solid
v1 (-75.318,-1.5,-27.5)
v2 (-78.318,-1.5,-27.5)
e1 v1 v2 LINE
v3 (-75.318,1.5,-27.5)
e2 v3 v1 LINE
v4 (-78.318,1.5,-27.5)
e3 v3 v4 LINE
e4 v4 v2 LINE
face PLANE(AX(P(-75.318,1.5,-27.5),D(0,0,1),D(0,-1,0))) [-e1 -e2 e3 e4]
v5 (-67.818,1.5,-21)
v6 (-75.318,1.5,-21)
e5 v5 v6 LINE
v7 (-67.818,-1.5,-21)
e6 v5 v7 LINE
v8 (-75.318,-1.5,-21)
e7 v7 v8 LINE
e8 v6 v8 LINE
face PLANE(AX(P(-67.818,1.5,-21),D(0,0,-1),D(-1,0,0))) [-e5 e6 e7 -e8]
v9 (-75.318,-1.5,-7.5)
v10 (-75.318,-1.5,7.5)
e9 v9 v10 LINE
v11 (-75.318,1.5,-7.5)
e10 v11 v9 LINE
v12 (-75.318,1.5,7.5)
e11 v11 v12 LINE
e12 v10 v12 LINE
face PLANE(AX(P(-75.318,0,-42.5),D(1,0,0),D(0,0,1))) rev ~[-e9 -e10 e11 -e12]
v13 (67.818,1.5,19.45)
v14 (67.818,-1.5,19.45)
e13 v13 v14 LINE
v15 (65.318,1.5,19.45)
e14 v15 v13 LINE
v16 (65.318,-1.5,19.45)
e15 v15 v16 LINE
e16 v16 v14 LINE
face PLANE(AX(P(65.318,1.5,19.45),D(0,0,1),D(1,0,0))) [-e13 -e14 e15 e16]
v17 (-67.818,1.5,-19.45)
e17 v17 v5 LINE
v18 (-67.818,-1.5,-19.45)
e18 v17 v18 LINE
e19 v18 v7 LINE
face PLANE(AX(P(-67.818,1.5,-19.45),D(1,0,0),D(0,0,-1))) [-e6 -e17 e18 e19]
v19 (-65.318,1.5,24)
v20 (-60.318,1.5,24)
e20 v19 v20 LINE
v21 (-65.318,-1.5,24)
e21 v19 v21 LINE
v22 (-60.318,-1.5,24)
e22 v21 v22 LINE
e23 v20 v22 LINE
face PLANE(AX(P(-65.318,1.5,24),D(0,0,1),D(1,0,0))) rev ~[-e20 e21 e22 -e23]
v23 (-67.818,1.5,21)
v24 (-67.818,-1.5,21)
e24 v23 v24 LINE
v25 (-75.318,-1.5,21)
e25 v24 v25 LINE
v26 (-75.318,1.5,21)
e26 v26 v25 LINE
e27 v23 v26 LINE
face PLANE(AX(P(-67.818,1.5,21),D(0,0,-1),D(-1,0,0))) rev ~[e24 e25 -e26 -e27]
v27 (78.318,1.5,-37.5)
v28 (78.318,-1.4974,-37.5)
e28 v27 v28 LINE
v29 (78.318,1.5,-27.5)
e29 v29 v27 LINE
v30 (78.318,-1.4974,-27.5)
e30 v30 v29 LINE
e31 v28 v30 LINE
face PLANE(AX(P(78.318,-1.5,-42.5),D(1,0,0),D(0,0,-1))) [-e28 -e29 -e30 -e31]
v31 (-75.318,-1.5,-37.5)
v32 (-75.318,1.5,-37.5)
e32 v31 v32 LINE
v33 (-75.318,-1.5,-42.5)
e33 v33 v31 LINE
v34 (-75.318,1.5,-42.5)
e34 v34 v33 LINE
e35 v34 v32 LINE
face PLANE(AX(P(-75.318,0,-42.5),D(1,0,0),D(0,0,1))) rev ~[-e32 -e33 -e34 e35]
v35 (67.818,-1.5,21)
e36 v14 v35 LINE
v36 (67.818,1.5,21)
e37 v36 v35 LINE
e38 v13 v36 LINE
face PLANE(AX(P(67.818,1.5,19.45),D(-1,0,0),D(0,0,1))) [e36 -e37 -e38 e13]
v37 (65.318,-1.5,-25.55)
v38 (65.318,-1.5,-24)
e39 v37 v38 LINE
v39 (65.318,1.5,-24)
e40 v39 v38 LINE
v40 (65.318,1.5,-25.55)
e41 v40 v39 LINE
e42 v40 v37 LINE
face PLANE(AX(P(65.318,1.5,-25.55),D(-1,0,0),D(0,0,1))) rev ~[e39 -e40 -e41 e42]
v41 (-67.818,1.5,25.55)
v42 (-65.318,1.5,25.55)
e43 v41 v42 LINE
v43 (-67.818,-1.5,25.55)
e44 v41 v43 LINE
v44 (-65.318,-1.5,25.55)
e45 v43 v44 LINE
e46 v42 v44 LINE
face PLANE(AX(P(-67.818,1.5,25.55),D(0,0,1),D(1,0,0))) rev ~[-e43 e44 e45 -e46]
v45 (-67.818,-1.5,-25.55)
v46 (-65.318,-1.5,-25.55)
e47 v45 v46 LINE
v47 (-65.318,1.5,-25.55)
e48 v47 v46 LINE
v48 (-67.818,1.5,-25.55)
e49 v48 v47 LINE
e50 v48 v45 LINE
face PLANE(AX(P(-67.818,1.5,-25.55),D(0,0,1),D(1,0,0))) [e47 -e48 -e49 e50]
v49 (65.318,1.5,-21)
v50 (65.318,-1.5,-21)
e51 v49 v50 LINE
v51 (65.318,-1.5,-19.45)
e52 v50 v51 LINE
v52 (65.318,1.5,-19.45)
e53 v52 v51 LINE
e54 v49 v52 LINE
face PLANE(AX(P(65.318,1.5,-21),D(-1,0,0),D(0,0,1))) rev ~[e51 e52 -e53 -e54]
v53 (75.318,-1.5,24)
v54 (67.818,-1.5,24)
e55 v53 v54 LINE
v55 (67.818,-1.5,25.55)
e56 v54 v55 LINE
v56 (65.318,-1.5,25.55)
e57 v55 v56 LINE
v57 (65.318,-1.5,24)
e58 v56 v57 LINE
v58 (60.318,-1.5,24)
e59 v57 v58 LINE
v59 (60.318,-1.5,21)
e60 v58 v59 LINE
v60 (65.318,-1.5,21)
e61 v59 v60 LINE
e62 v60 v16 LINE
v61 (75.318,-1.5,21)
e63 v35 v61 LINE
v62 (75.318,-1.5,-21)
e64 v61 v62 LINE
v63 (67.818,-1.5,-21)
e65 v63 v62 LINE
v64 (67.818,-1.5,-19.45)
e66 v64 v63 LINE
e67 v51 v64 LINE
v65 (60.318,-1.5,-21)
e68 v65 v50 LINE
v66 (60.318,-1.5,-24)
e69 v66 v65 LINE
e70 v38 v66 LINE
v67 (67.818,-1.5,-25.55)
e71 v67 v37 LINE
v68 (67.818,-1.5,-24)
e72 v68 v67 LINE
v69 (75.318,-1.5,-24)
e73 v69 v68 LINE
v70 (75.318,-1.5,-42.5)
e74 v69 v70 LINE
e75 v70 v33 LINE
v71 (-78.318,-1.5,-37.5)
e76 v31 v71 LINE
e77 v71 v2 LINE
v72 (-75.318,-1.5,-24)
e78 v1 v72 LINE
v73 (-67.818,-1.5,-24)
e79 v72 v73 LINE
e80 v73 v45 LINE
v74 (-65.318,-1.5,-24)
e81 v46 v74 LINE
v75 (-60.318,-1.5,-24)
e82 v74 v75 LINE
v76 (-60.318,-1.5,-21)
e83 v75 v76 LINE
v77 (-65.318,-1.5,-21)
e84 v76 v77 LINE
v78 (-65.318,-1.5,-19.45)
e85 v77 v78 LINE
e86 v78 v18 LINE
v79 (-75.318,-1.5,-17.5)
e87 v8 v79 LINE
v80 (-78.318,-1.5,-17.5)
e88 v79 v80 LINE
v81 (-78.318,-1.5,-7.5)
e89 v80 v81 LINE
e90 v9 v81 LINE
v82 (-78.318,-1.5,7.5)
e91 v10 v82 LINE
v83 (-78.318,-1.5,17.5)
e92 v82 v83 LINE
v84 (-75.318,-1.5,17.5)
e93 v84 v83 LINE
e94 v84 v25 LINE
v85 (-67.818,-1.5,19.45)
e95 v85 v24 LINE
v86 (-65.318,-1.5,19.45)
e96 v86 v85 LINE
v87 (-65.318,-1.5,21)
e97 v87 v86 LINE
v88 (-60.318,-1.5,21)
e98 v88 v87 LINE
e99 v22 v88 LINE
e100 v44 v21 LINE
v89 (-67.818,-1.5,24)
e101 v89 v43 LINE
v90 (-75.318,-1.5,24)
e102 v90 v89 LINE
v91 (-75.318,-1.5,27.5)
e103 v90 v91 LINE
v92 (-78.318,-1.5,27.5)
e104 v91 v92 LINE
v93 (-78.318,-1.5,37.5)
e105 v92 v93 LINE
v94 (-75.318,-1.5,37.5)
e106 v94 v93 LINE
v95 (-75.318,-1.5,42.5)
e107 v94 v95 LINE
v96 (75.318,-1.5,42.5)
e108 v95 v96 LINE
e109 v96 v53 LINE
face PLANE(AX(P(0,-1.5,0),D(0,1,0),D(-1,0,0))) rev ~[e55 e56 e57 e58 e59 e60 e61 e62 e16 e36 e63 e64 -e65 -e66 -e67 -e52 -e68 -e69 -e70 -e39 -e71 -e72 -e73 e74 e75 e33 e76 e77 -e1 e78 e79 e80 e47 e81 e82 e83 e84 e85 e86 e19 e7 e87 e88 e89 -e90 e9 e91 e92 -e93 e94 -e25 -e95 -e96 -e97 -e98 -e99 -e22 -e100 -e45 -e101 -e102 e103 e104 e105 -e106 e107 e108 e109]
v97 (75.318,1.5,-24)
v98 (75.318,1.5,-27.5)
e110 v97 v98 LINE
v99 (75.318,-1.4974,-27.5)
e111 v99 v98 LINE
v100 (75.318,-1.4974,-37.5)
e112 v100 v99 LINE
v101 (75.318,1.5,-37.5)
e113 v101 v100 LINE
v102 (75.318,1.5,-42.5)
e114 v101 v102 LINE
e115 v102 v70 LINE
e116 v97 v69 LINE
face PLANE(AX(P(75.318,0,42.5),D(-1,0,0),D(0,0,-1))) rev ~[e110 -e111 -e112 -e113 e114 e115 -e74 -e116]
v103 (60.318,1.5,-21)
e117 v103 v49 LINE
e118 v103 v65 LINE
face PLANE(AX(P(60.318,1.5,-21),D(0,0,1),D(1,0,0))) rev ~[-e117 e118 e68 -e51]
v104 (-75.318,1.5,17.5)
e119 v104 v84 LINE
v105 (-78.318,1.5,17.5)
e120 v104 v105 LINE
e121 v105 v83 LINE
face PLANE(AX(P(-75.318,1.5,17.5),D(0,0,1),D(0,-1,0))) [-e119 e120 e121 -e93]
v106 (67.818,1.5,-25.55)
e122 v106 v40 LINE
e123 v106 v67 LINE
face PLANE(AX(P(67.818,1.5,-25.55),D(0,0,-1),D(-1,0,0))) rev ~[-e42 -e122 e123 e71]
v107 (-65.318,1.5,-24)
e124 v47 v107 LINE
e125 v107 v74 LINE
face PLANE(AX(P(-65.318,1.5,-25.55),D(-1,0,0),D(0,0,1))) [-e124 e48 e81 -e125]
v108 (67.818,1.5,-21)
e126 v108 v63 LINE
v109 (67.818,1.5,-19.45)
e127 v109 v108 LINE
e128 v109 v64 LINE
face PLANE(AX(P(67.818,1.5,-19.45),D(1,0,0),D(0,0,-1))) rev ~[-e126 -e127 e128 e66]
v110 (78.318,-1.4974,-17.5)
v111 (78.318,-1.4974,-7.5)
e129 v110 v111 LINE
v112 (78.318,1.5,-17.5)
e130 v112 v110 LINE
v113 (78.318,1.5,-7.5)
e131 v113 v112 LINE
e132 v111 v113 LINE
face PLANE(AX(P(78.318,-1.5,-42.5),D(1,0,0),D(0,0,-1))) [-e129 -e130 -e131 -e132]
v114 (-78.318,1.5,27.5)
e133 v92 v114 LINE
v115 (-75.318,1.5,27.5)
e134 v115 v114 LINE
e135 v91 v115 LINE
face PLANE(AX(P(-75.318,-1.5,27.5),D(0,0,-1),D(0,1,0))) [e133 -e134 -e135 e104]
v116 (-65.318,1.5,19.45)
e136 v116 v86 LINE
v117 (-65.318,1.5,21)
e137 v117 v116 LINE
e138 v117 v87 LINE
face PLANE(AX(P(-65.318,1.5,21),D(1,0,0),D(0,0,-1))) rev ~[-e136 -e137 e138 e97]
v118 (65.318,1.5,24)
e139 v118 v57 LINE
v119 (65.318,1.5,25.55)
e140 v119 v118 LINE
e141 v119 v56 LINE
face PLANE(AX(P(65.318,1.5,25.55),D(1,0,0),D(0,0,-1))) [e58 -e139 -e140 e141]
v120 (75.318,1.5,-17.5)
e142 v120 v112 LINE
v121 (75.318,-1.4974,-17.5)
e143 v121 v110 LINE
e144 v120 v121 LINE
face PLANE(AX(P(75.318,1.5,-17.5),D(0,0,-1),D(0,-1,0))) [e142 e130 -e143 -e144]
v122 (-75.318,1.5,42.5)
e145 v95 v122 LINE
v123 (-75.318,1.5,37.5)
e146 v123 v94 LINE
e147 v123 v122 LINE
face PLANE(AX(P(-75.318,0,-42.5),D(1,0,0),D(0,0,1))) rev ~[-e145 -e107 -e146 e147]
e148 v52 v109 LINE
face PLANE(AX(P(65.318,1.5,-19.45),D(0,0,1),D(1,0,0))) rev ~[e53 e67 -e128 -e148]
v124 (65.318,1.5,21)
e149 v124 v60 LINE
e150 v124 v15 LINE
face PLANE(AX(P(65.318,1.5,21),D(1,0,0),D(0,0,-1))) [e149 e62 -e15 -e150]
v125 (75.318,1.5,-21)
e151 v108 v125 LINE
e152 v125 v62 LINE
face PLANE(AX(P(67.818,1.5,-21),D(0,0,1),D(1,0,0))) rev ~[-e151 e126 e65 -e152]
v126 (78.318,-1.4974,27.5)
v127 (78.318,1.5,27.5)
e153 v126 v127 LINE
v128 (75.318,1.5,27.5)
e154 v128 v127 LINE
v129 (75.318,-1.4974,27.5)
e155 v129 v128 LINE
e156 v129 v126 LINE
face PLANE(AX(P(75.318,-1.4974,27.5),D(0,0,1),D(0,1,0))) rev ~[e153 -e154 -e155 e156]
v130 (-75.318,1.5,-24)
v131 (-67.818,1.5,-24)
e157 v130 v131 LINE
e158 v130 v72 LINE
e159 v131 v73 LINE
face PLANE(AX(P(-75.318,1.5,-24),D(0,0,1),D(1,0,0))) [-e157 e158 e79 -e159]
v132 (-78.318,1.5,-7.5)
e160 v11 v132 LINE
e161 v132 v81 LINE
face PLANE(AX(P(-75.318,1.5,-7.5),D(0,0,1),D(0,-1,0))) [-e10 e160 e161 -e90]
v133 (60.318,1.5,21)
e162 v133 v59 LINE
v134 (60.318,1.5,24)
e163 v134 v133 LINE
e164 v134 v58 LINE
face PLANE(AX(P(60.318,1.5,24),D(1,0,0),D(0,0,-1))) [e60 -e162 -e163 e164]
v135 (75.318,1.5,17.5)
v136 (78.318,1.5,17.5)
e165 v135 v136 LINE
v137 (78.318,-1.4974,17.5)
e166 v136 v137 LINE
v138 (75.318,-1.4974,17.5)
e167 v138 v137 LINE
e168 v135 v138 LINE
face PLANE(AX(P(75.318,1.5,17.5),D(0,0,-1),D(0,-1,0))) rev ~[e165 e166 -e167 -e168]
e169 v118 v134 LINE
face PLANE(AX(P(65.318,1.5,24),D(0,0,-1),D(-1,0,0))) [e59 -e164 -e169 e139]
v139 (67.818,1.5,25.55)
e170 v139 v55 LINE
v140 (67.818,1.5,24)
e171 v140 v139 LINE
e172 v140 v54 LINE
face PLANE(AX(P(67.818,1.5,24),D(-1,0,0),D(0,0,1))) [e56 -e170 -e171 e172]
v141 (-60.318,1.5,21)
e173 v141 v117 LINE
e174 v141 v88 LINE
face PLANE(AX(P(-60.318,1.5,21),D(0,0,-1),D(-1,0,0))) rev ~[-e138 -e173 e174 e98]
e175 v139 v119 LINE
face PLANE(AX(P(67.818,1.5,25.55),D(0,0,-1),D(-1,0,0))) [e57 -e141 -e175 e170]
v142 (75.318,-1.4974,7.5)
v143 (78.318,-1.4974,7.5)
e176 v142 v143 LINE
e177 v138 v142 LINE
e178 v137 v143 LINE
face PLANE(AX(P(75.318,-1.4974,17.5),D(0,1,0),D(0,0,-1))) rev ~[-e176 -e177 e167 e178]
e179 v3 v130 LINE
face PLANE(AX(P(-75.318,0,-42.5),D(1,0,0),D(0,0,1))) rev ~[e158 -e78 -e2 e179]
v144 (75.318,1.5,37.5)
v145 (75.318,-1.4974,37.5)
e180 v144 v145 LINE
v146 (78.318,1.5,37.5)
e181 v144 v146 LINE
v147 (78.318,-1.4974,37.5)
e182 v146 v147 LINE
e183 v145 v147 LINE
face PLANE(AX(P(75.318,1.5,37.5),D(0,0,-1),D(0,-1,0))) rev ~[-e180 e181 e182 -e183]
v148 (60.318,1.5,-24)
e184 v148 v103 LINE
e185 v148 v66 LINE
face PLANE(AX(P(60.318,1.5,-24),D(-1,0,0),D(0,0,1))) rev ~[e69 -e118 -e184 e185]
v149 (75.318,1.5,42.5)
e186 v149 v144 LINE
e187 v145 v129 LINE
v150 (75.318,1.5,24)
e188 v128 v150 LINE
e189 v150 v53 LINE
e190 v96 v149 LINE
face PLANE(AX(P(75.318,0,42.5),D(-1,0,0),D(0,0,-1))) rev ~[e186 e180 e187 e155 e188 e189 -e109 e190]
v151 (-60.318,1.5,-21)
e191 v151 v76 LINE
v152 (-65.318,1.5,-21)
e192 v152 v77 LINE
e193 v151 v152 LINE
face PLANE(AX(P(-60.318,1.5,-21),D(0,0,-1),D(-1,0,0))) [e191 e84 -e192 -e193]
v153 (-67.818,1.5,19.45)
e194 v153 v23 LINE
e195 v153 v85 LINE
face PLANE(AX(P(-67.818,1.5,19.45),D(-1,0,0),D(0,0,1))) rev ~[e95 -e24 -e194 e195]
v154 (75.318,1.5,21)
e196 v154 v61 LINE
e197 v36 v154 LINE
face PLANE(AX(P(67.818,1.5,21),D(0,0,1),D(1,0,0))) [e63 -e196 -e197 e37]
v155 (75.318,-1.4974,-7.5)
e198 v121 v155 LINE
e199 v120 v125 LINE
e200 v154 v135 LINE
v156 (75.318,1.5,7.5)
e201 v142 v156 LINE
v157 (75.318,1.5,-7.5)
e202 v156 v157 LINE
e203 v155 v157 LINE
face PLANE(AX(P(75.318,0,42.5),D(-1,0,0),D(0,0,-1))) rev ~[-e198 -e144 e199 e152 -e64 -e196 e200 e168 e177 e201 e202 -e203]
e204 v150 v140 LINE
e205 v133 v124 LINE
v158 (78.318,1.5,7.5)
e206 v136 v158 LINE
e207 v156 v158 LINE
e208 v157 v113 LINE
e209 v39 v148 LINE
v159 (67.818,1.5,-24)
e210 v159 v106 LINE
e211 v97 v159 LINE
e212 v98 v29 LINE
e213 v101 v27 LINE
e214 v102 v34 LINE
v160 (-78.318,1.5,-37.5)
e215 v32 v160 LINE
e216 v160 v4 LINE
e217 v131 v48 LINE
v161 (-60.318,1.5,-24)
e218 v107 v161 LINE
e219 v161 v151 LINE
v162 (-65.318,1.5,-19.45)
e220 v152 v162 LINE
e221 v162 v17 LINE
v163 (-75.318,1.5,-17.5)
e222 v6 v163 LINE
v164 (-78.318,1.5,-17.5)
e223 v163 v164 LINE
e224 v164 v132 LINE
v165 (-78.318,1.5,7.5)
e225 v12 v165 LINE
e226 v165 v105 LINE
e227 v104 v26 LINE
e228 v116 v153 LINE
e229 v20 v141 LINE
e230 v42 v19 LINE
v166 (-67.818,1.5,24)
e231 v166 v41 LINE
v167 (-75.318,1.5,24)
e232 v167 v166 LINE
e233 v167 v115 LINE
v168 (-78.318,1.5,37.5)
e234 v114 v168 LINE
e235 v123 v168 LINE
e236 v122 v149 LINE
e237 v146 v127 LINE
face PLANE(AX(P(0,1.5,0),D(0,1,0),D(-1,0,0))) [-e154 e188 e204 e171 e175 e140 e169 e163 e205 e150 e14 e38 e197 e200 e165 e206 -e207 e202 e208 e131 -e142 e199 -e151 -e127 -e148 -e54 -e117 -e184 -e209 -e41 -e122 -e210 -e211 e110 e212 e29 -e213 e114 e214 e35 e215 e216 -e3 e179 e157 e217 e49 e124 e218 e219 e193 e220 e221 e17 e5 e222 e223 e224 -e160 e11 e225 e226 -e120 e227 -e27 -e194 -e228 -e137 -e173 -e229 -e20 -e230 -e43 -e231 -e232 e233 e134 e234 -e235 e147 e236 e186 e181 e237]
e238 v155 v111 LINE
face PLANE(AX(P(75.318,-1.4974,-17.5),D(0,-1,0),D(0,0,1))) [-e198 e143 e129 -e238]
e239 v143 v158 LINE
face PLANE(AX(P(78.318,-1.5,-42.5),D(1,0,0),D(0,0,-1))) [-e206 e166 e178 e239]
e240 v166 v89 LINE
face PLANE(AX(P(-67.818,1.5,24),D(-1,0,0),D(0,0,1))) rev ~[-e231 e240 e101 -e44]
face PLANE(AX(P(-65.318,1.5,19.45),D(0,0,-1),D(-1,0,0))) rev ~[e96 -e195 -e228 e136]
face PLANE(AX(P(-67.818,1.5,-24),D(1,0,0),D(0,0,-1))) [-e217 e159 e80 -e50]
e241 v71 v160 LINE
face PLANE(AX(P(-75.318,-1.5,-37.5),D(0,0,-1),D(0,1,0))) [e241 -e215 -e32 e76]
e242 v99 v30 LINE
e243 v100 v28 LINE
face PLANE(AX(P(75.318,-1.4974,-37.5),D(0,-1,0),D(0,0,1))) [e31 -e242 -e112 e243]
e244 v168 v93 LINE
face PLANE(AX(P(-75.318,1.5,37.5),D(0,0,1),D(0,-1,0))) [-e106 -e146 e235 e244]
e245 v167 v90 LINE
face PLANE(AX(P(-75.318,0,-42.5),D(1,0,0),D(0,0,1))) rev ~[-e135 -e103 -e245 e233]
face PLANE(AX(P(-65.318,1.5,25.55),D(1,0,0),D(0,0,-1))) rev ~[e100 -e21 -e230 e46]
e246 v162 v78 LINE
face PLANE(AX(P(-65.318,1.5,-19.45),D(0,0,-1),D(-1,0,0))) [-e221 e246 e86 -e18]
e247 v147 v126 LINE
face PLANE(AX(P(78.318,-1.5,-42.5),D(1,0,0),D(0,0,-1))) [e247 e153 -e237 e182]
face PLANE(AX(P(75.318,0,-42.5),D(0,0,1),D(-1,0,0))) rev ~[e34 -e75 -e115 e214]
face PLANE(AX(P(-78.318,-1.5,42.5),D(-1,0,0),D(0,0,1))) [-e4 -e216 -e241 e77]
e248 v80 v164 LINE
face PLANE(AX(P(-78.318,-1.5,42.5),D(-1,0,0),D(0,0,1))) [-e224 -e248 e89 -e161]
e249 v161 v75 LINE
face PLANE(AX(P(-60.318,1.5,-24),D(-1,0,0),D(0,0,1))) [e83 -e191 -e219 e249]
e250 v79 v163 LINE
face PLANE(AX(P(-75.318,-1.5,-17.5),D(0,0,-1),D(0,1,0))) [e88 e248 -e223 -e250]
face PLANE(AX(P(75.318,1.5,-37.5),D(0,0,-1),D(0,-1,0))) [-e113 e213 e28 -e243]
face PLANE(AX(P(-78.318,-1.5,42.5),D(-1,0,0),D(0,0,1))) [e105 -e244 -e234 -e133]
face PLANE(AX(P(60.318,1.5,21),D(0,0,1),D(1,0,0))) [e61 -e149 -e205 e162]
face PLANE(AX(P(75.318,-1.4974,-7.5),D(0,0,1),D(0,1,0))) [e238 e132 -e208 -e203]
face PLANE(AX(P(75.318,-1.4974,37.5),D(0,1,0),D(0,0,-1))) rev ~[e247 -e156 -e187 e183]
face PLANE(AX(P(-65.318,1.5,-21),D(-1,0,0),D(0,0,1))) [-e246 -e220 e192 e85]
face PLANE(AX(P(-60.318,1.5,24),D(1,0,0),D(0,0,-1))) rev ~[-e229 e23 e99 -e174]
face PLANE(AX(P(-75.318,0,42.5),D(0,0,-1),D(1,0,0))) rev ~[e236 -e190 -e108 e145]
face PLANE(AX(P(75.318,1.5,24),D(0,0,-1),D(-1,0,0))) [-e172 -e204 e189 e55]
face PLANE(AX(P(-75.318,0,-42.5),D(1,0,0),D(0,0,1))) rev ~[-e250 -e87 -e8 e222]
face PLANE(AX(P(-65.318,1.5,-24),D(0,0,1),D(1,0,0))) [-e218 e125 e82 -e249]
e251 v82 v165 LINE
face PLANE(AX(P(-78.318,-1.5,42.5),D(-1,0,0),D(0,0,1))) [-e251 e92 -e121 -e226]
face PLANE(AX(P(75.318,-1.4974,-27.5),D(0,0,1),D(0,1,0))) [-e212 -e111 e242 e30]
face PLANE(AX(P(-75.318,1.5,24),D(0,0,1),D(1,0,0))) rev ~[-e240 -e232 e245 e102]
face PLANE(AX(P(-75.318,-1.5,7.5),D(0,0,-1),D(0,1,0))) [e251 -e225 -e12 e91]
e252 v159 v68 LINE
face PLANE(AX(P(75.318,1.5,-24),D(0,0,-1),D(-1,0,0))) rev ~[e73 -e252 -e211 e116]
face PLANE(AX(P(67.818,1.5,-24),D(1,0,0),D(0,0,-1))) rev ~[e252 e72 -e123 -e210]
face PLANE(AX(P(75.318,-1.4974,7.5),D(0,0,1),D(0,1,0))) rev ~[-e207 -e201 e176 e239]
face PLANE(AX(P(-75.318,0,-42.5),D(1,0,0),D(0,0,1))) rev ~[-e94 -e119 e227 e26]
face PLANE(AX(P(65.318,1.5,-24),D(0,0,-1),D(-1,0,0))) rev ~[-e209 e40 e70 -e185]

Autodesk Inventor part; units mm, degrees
ref_plane "YZ Plane" through (0, 0, 0) normal (1, 0, 0) x (0, 1, 0)
ref_plane "XZ Plane" through (0, 0, 0) normal (0, 1, 0) x (-1, 0, 0)
ref_plane "XY Plane" through (0, 0, 0) normal (0, 0, 1) x (1, 0, 0)
sketch "Эскиз1" plane through (0, 0, 0) normal (0, 1, 0) x (-1, 0, 0)
  line L0 (75.318, 42.5) -> (-75.318, 42.5)
  line L1 (-75.318, 42.5) -> (-75.318, -42.5)
  line L2 (-75.318, -42.5) -> (75.318, -42.5)
  line L3 (75.318, -42.5) -> (75.318, 42.5)
  line L4 (75.318, 42.5) -> (-75.318, -42.5) construction
  line L5 (-75.318, 42.5) -> (75.318, -42.5) construction
  point P0 (0, 0)
  dimension "d0" = 150.636
  dimension "d1" = 85
extrude "Выдавливание1" add sketch "Эскиз1" along normal mid plane 3
sketch "Эскиз3" plane through (-75.318, -1.5, 42.5) normal (-1, 0, 0) x (0, 0, 1)
  line L0 (-85, 0) -> (0, 0) projected
  line L1 (-80, 3) -> (-70, 3)
  line L2 (-70, 3) -> (-70, 0)
  line L3 (-70, 0) -> (-80, 0)
  line L4 (-80, 0) -> (-80, 3)
  line L5 (-80, 3) -> (-70, 0) construction
  line L6 (-70, 3) -> (-80, 0) construction
  line L7 (-60, 3) -> (-50, 3)
  line L8 (-50, 3) -> (-50, 0)
  line L9 (-50, 0) -> (-60, 0)
  line L10 (-60, 0) -> (-60, 3)
  line L11 (-60, 3) -> (-50, 0) construction
  line L12 (-50, 3) -> (-60, 0) construction
  line L13 (-35, 3) -> (-25, 3)
  line L14 (-25, 3) -> (-25, 0)
  line L15 (-25, 0) -> (-35, 0)
  line L16 (-35, 0) -> (-35, 3)
  line L17 (-35, 3) -> (-25, 0) construction
  line L18 (-25, 3) -> (-35, 0) construction
  line L19 (-15, 3) -> (-5, 3)
  line L20 (-5, 3) -> (-5, 0)
  line L21 (-5, 0) -> (-15, 0)
  line L22 (-15, 0) -> (-15, 3)
  line L23 (-15, 3) -> (-5, 0) construction
  line L24 (-5, 3) -> (-15, 0) construction
  line L25 (0, 0) -> (0, 3) projected
  line L26 (-85, 0) -> (-85, 3) projected
  point P0 (-42.5, 1.5)
  point P1 (-75, 1.5)
  point P2 (-55, 1.5)
  point P3 (-30, 1.5)
  point P4 (-10, 1.5)
  point P5 (-15, 1.5)
  point P6 (-25, 1.5)
  point P7 (-60, 1.5)
  point P8 (-35, 0)
  point P9 (-15, 0)
  dimension "d8" = 10
  dimension "d9" = 10
  dimension "d10" = 10
  dimension "d11" = 10
  dimension "d12" = 3
  dimension "d13" = 10
  dimension "d14" = 10
  dimension "d15" = 5
  dimension "d16" = 5
extrude "Выдавливание3" add sketch "Эскиз3" along normal blind 3
sketch "Эскиз4" plane through (75.318, -1.5, -42.5) normal (1, 0, 0) x (0, 0, -1)
  line L0 (-85, 3) -> (0, 3) projected
  line L1 (-80, 0.0026) -> (-70, 0.0026)
  line L2 (-70, 0.0026) -> (-70, 3)
  line L3 (-70, 3) -> (-80, 3)
  line L4 (-80, 3) -> (-80, 0.0026)
  line L5 (-80, 0.0026) -> (-70, 3) construction
  line L6 (-70, 0.0026) -> (-80, 3) construction
  line L7 (-60, 0.0026) -> (-50, 0.0026)
  line L8 (-50, 0.0026) -> (-50, 3)
  line L9 (-50, 3) -> (-60, 3)
  line L10 (-60, 3) -> (-60, 0.0026)
  line L11 (-60, 0.0026) -> (-50, 3) construction
  line L12 (-50, 0.0026) -> (-60, 3) construction
  line L13 (-42.5, 3) -> (-42.5, 0) construction
  line L14 (0, 0) -> (-85, 0) projected
  line L15 (-5, 0.0026) -> (-15, 0.0026)
  line L16 (-15, 0.0026) -> (-15, 3)
  line L17 (-15, 3) -> (-5, 3)
  line L18 (-5, 3) -> (-5, 0.0026)
  line L19 (-5, 0.0026) -> (-15, 3) construction
  line L20 (-15, 0.0026) -> (-5, 3) construction
  line L21 (-25, 0.0026) -> (-35, 0.0026)
  line L22 (-35, 0.0026) -> (-35, 3)
  line L23 (-35, 3) -> (-25, 3)
  line L24 (-25, 3) -> (-25, 0.0026)
  line L25 (-25, 0.0026) -> (-35, 3) construction
  line L26 (-35, 0.0026) -> (-25, 3) construction
  line L27 (-85, 3) -> (-85, 0) projected
  point P0 (-42.5, 1.5)
  point P1 (-75, 1.5013)
  point P2 (-55, 1.5013)
  point P3 (-10, 1.5013)
  point P4 (-30, 1.5013)
  point P5 (-35, 3)
  point P6 (-5, 3)
  point P7 (-15, 3)
  dimension "d19" = 10
  dimension "d24" = 20
  dimension "d29" = 5
extrude "Выдавливание4" add sketch "Эскиз4" along normal blind 3
sketch "Эскиз5" plane through (0, 1.5, 0) normal (0, 1, 0) x (1, 0, 0)
  line L0 (-75.318, 7.5) -> (-75.318, -7.5) projected
  line L1 (-54.4999, -2.8628) -> (-54.4999, -9.8628)
  line L2 (-54.4999, -9.8628) -> (-48.4999, -9.8628)
  line L3 (-48.4999, -9.8628) -> (-48.4999, -2.8628)
  line L4 (-48.4999, -2.8628) -> (-54.4999, -2.8628)
  line L5 (-48.4999, 3.1372) -> (-48.4999, 10.1372)
  line L6 (-48.4999, 10.1372) -> (-54.4999, 10.1372)
  line L7 (-54.4999, 10.1372) -> (-54.4999, 3.1372)
  line L8 (-54.4999, 3.1372) -> (-48.4999, 3.1372)
  line L9 (-51.4999, -2.8628) -> (-51.4999, 3.1372)
  circle A0 centre (-51.4999, 0.1372) radius 1.5
  point P0 (0, 0)
  dimension "d37" = 3
extrude "Выдавливание5" cut sketch "Эскиз5" against normal blind 3
sketch "Эскиз6" plane through (0, 1.5, 0) normal (0, 1, 0) x (1, 0, 0)
  line L0 (75.318, -27.5) -> (75.318, -17.5) projected
  line L1 (60.318, -24) -> (60.318, -21)
  line L2 (75.318, -21) -> (75.318, -24)
  line L3 (67.818, -25.55) -> (65.318, -25.55)
  line L4 (65.318, -19.45) -> (67.818, -19.45)
  line L5 (67.818, -19.45) -> (67.818, -21)
  line L6 (67.818, -24) -> (67.818, -25.55)
  line L7 (75.318, -24) -> (67.818, -24)
  line L8 (65.318, -24) -> (60.318, -24)
  line L9 (65.318, -25.55) -> (65.318, -24)
  line L10 (65.318, -21) -> (65.318, -19.45)
  line L11 (60.318, -21) -> (65.318, -21)
  line L12 (67.818, -21) -> (75.318, -21)
  line L13 (66.568, 0) -> (53.2147, 0) construction
  line L14 (0, -10.2584) -> (0, 8.5624) construction
  line L15 (75.318, 27.5) -> (75.318, 17.5)
  line L16 (60.318, 24) -> (60.318, 21)
  line L17 (75.318, 21) -> (75.318, 24)
  line L18 (67.818, 25.55) -> (65.318, 25.55)
  line L19 (65.318, 19.45) -> (67.818, 19.45)
  line L20 (67.818, 19.45) -> (67.818, 21)
  line L21 (67.818, 24) -> (67.818, 25.55)
  line L22 (75.318, 24) -> (67.818, 24)
  line L23 (65.318, 24) -> (60.318, 24)
  line L24 (65.318, 25.55) -> (65.318, 24)
  line L25 (65.318, 21) -> (65.318, 19.45)
  line L26 (60.318, 21) -> (65.318, 21)
  line L27 (67.818, 21) -> (75.318, 21)
  line L28 (0, 10.2584) -> (0, -8.5624) construction
  line L29 (-75.318, -27.5) -> (-75.318, -17.5)
  line L30 (-60.318, -24) -> (-60.318, -21)
  line L31 (-75.318, -21) -> (-75.318, -24)
  line L32 (-67.818, -25.55) -> (-65.318, -25.55)
  line L33 (-65.318, -19.45) -> (-67.818, -19.45)
  line L34 (-67.818, -19.45) -> (-67.818, -21)
  line L35 (-67.818, -24) -> (-67.818, -25.55)
  line L36 (-75.318, -24) -> (-67.818, -24)
  line L37 (-65.318, -24) -> (-60.318, -24)
  line L38 (-65.318, -25.55) -> (-65.318, -24)
  line L39 (-65.318, -21) -> (-65.318, -19.45)
  line L40 (-60.318, -21) -> (-65.318, -21)
  line L41 (-67.818, -21) -> (-75.318, -21)
  line L42 (-66.568, 0) -> (-53.2147, 0) construction
  line L43 (-60.318, 24) -> (-60.318, 21)
  line L44 (-65.318, 24) -> (-60.318, 24)
  line L45 (-60.318, 21) -> (-65.318, 21)
  line L46 (-65.318, 21) -> (-65.318, 19.45)
  line L47 (-65.318, 19.45) -> (-67.818, 19.45)
  line L48 (-67.818, 19.45) -> (-67.818, 21)
  line L49 (-65.318, 25.55) -> (-65.318, 24)
  line L50 (-67.818, 25.55) -> (-65.318, 25.55)
  line L51 (-67.818, 24) -> (-67.818, 25.55)
  line L52 (-67.818, 21) -> (-75.318, 21)
  line L53 (-75.318, 21) -> (-75.318, 24)
  line L54 (-75.318, 27.5) -> (-75.318, 17.5)
  line L55 (-75.318, 24) -> (-67.818, 24)
  point P0 (0, 0)
  point P1 (67.818, -23.3834)
  point P2 (67.818, 23.3834)
  point P3 (-67.818, -23.3834)
  point P4 (-67.818, 23.3834)
  point P5 (-75.318, -21)
  point P6 (75.318, -22.5)
  dimension "d38" = 6.1
  dimension "d39" = 3
  dimension "d40" = 2.5
  dimension "d41" = 15
  dimension "d42" = 1.55
  dimension "d43" = 1.55
  dimension "d44" = 1.55
  dimension "d45" = 1.55
extrude "Выдавливание6" cut sketch "Эскиз6" against normal blind 3
sketch "Эскиз7" plane through (0, 1.5, 0) normal (0, 1, 0) x (1, 0, 0)
  circle A0 centre (-51.4999, 0.1372) radius 1.5 projected
  line L0 (-54.4999, -2.8628) -> (-48.4999, -2.8628) projected
  line L1 (-48.4999, -2.8628) -> (-48.4999, -9.8628) projected
  line L2 (-48.4999, -9.8628) -> (-54.4999, -9.8628) projected
  line L3 (-54.4999, -9.8628) -> (-54.4999, -2.8628) projected
  line L4 (-48.4999, 3.1372) -> (-54.4999, 3.1372) projected
  line L5 (-48.4999, 10.1372) -> (-48.4999, 3.1372) projected
  line L6 (-54.4999, 10.1372) -> (-48.4999, 10.1372) projected
  line L7 (-54.4999, 3.1372) -> (-54.4999, 10.1372) projected
  point P0 (0, 0)
extrude "Выдавливание8" add sketch "Эскиз7" against normal blind 3
properties part number "Нижняя часть головы_CPY"
